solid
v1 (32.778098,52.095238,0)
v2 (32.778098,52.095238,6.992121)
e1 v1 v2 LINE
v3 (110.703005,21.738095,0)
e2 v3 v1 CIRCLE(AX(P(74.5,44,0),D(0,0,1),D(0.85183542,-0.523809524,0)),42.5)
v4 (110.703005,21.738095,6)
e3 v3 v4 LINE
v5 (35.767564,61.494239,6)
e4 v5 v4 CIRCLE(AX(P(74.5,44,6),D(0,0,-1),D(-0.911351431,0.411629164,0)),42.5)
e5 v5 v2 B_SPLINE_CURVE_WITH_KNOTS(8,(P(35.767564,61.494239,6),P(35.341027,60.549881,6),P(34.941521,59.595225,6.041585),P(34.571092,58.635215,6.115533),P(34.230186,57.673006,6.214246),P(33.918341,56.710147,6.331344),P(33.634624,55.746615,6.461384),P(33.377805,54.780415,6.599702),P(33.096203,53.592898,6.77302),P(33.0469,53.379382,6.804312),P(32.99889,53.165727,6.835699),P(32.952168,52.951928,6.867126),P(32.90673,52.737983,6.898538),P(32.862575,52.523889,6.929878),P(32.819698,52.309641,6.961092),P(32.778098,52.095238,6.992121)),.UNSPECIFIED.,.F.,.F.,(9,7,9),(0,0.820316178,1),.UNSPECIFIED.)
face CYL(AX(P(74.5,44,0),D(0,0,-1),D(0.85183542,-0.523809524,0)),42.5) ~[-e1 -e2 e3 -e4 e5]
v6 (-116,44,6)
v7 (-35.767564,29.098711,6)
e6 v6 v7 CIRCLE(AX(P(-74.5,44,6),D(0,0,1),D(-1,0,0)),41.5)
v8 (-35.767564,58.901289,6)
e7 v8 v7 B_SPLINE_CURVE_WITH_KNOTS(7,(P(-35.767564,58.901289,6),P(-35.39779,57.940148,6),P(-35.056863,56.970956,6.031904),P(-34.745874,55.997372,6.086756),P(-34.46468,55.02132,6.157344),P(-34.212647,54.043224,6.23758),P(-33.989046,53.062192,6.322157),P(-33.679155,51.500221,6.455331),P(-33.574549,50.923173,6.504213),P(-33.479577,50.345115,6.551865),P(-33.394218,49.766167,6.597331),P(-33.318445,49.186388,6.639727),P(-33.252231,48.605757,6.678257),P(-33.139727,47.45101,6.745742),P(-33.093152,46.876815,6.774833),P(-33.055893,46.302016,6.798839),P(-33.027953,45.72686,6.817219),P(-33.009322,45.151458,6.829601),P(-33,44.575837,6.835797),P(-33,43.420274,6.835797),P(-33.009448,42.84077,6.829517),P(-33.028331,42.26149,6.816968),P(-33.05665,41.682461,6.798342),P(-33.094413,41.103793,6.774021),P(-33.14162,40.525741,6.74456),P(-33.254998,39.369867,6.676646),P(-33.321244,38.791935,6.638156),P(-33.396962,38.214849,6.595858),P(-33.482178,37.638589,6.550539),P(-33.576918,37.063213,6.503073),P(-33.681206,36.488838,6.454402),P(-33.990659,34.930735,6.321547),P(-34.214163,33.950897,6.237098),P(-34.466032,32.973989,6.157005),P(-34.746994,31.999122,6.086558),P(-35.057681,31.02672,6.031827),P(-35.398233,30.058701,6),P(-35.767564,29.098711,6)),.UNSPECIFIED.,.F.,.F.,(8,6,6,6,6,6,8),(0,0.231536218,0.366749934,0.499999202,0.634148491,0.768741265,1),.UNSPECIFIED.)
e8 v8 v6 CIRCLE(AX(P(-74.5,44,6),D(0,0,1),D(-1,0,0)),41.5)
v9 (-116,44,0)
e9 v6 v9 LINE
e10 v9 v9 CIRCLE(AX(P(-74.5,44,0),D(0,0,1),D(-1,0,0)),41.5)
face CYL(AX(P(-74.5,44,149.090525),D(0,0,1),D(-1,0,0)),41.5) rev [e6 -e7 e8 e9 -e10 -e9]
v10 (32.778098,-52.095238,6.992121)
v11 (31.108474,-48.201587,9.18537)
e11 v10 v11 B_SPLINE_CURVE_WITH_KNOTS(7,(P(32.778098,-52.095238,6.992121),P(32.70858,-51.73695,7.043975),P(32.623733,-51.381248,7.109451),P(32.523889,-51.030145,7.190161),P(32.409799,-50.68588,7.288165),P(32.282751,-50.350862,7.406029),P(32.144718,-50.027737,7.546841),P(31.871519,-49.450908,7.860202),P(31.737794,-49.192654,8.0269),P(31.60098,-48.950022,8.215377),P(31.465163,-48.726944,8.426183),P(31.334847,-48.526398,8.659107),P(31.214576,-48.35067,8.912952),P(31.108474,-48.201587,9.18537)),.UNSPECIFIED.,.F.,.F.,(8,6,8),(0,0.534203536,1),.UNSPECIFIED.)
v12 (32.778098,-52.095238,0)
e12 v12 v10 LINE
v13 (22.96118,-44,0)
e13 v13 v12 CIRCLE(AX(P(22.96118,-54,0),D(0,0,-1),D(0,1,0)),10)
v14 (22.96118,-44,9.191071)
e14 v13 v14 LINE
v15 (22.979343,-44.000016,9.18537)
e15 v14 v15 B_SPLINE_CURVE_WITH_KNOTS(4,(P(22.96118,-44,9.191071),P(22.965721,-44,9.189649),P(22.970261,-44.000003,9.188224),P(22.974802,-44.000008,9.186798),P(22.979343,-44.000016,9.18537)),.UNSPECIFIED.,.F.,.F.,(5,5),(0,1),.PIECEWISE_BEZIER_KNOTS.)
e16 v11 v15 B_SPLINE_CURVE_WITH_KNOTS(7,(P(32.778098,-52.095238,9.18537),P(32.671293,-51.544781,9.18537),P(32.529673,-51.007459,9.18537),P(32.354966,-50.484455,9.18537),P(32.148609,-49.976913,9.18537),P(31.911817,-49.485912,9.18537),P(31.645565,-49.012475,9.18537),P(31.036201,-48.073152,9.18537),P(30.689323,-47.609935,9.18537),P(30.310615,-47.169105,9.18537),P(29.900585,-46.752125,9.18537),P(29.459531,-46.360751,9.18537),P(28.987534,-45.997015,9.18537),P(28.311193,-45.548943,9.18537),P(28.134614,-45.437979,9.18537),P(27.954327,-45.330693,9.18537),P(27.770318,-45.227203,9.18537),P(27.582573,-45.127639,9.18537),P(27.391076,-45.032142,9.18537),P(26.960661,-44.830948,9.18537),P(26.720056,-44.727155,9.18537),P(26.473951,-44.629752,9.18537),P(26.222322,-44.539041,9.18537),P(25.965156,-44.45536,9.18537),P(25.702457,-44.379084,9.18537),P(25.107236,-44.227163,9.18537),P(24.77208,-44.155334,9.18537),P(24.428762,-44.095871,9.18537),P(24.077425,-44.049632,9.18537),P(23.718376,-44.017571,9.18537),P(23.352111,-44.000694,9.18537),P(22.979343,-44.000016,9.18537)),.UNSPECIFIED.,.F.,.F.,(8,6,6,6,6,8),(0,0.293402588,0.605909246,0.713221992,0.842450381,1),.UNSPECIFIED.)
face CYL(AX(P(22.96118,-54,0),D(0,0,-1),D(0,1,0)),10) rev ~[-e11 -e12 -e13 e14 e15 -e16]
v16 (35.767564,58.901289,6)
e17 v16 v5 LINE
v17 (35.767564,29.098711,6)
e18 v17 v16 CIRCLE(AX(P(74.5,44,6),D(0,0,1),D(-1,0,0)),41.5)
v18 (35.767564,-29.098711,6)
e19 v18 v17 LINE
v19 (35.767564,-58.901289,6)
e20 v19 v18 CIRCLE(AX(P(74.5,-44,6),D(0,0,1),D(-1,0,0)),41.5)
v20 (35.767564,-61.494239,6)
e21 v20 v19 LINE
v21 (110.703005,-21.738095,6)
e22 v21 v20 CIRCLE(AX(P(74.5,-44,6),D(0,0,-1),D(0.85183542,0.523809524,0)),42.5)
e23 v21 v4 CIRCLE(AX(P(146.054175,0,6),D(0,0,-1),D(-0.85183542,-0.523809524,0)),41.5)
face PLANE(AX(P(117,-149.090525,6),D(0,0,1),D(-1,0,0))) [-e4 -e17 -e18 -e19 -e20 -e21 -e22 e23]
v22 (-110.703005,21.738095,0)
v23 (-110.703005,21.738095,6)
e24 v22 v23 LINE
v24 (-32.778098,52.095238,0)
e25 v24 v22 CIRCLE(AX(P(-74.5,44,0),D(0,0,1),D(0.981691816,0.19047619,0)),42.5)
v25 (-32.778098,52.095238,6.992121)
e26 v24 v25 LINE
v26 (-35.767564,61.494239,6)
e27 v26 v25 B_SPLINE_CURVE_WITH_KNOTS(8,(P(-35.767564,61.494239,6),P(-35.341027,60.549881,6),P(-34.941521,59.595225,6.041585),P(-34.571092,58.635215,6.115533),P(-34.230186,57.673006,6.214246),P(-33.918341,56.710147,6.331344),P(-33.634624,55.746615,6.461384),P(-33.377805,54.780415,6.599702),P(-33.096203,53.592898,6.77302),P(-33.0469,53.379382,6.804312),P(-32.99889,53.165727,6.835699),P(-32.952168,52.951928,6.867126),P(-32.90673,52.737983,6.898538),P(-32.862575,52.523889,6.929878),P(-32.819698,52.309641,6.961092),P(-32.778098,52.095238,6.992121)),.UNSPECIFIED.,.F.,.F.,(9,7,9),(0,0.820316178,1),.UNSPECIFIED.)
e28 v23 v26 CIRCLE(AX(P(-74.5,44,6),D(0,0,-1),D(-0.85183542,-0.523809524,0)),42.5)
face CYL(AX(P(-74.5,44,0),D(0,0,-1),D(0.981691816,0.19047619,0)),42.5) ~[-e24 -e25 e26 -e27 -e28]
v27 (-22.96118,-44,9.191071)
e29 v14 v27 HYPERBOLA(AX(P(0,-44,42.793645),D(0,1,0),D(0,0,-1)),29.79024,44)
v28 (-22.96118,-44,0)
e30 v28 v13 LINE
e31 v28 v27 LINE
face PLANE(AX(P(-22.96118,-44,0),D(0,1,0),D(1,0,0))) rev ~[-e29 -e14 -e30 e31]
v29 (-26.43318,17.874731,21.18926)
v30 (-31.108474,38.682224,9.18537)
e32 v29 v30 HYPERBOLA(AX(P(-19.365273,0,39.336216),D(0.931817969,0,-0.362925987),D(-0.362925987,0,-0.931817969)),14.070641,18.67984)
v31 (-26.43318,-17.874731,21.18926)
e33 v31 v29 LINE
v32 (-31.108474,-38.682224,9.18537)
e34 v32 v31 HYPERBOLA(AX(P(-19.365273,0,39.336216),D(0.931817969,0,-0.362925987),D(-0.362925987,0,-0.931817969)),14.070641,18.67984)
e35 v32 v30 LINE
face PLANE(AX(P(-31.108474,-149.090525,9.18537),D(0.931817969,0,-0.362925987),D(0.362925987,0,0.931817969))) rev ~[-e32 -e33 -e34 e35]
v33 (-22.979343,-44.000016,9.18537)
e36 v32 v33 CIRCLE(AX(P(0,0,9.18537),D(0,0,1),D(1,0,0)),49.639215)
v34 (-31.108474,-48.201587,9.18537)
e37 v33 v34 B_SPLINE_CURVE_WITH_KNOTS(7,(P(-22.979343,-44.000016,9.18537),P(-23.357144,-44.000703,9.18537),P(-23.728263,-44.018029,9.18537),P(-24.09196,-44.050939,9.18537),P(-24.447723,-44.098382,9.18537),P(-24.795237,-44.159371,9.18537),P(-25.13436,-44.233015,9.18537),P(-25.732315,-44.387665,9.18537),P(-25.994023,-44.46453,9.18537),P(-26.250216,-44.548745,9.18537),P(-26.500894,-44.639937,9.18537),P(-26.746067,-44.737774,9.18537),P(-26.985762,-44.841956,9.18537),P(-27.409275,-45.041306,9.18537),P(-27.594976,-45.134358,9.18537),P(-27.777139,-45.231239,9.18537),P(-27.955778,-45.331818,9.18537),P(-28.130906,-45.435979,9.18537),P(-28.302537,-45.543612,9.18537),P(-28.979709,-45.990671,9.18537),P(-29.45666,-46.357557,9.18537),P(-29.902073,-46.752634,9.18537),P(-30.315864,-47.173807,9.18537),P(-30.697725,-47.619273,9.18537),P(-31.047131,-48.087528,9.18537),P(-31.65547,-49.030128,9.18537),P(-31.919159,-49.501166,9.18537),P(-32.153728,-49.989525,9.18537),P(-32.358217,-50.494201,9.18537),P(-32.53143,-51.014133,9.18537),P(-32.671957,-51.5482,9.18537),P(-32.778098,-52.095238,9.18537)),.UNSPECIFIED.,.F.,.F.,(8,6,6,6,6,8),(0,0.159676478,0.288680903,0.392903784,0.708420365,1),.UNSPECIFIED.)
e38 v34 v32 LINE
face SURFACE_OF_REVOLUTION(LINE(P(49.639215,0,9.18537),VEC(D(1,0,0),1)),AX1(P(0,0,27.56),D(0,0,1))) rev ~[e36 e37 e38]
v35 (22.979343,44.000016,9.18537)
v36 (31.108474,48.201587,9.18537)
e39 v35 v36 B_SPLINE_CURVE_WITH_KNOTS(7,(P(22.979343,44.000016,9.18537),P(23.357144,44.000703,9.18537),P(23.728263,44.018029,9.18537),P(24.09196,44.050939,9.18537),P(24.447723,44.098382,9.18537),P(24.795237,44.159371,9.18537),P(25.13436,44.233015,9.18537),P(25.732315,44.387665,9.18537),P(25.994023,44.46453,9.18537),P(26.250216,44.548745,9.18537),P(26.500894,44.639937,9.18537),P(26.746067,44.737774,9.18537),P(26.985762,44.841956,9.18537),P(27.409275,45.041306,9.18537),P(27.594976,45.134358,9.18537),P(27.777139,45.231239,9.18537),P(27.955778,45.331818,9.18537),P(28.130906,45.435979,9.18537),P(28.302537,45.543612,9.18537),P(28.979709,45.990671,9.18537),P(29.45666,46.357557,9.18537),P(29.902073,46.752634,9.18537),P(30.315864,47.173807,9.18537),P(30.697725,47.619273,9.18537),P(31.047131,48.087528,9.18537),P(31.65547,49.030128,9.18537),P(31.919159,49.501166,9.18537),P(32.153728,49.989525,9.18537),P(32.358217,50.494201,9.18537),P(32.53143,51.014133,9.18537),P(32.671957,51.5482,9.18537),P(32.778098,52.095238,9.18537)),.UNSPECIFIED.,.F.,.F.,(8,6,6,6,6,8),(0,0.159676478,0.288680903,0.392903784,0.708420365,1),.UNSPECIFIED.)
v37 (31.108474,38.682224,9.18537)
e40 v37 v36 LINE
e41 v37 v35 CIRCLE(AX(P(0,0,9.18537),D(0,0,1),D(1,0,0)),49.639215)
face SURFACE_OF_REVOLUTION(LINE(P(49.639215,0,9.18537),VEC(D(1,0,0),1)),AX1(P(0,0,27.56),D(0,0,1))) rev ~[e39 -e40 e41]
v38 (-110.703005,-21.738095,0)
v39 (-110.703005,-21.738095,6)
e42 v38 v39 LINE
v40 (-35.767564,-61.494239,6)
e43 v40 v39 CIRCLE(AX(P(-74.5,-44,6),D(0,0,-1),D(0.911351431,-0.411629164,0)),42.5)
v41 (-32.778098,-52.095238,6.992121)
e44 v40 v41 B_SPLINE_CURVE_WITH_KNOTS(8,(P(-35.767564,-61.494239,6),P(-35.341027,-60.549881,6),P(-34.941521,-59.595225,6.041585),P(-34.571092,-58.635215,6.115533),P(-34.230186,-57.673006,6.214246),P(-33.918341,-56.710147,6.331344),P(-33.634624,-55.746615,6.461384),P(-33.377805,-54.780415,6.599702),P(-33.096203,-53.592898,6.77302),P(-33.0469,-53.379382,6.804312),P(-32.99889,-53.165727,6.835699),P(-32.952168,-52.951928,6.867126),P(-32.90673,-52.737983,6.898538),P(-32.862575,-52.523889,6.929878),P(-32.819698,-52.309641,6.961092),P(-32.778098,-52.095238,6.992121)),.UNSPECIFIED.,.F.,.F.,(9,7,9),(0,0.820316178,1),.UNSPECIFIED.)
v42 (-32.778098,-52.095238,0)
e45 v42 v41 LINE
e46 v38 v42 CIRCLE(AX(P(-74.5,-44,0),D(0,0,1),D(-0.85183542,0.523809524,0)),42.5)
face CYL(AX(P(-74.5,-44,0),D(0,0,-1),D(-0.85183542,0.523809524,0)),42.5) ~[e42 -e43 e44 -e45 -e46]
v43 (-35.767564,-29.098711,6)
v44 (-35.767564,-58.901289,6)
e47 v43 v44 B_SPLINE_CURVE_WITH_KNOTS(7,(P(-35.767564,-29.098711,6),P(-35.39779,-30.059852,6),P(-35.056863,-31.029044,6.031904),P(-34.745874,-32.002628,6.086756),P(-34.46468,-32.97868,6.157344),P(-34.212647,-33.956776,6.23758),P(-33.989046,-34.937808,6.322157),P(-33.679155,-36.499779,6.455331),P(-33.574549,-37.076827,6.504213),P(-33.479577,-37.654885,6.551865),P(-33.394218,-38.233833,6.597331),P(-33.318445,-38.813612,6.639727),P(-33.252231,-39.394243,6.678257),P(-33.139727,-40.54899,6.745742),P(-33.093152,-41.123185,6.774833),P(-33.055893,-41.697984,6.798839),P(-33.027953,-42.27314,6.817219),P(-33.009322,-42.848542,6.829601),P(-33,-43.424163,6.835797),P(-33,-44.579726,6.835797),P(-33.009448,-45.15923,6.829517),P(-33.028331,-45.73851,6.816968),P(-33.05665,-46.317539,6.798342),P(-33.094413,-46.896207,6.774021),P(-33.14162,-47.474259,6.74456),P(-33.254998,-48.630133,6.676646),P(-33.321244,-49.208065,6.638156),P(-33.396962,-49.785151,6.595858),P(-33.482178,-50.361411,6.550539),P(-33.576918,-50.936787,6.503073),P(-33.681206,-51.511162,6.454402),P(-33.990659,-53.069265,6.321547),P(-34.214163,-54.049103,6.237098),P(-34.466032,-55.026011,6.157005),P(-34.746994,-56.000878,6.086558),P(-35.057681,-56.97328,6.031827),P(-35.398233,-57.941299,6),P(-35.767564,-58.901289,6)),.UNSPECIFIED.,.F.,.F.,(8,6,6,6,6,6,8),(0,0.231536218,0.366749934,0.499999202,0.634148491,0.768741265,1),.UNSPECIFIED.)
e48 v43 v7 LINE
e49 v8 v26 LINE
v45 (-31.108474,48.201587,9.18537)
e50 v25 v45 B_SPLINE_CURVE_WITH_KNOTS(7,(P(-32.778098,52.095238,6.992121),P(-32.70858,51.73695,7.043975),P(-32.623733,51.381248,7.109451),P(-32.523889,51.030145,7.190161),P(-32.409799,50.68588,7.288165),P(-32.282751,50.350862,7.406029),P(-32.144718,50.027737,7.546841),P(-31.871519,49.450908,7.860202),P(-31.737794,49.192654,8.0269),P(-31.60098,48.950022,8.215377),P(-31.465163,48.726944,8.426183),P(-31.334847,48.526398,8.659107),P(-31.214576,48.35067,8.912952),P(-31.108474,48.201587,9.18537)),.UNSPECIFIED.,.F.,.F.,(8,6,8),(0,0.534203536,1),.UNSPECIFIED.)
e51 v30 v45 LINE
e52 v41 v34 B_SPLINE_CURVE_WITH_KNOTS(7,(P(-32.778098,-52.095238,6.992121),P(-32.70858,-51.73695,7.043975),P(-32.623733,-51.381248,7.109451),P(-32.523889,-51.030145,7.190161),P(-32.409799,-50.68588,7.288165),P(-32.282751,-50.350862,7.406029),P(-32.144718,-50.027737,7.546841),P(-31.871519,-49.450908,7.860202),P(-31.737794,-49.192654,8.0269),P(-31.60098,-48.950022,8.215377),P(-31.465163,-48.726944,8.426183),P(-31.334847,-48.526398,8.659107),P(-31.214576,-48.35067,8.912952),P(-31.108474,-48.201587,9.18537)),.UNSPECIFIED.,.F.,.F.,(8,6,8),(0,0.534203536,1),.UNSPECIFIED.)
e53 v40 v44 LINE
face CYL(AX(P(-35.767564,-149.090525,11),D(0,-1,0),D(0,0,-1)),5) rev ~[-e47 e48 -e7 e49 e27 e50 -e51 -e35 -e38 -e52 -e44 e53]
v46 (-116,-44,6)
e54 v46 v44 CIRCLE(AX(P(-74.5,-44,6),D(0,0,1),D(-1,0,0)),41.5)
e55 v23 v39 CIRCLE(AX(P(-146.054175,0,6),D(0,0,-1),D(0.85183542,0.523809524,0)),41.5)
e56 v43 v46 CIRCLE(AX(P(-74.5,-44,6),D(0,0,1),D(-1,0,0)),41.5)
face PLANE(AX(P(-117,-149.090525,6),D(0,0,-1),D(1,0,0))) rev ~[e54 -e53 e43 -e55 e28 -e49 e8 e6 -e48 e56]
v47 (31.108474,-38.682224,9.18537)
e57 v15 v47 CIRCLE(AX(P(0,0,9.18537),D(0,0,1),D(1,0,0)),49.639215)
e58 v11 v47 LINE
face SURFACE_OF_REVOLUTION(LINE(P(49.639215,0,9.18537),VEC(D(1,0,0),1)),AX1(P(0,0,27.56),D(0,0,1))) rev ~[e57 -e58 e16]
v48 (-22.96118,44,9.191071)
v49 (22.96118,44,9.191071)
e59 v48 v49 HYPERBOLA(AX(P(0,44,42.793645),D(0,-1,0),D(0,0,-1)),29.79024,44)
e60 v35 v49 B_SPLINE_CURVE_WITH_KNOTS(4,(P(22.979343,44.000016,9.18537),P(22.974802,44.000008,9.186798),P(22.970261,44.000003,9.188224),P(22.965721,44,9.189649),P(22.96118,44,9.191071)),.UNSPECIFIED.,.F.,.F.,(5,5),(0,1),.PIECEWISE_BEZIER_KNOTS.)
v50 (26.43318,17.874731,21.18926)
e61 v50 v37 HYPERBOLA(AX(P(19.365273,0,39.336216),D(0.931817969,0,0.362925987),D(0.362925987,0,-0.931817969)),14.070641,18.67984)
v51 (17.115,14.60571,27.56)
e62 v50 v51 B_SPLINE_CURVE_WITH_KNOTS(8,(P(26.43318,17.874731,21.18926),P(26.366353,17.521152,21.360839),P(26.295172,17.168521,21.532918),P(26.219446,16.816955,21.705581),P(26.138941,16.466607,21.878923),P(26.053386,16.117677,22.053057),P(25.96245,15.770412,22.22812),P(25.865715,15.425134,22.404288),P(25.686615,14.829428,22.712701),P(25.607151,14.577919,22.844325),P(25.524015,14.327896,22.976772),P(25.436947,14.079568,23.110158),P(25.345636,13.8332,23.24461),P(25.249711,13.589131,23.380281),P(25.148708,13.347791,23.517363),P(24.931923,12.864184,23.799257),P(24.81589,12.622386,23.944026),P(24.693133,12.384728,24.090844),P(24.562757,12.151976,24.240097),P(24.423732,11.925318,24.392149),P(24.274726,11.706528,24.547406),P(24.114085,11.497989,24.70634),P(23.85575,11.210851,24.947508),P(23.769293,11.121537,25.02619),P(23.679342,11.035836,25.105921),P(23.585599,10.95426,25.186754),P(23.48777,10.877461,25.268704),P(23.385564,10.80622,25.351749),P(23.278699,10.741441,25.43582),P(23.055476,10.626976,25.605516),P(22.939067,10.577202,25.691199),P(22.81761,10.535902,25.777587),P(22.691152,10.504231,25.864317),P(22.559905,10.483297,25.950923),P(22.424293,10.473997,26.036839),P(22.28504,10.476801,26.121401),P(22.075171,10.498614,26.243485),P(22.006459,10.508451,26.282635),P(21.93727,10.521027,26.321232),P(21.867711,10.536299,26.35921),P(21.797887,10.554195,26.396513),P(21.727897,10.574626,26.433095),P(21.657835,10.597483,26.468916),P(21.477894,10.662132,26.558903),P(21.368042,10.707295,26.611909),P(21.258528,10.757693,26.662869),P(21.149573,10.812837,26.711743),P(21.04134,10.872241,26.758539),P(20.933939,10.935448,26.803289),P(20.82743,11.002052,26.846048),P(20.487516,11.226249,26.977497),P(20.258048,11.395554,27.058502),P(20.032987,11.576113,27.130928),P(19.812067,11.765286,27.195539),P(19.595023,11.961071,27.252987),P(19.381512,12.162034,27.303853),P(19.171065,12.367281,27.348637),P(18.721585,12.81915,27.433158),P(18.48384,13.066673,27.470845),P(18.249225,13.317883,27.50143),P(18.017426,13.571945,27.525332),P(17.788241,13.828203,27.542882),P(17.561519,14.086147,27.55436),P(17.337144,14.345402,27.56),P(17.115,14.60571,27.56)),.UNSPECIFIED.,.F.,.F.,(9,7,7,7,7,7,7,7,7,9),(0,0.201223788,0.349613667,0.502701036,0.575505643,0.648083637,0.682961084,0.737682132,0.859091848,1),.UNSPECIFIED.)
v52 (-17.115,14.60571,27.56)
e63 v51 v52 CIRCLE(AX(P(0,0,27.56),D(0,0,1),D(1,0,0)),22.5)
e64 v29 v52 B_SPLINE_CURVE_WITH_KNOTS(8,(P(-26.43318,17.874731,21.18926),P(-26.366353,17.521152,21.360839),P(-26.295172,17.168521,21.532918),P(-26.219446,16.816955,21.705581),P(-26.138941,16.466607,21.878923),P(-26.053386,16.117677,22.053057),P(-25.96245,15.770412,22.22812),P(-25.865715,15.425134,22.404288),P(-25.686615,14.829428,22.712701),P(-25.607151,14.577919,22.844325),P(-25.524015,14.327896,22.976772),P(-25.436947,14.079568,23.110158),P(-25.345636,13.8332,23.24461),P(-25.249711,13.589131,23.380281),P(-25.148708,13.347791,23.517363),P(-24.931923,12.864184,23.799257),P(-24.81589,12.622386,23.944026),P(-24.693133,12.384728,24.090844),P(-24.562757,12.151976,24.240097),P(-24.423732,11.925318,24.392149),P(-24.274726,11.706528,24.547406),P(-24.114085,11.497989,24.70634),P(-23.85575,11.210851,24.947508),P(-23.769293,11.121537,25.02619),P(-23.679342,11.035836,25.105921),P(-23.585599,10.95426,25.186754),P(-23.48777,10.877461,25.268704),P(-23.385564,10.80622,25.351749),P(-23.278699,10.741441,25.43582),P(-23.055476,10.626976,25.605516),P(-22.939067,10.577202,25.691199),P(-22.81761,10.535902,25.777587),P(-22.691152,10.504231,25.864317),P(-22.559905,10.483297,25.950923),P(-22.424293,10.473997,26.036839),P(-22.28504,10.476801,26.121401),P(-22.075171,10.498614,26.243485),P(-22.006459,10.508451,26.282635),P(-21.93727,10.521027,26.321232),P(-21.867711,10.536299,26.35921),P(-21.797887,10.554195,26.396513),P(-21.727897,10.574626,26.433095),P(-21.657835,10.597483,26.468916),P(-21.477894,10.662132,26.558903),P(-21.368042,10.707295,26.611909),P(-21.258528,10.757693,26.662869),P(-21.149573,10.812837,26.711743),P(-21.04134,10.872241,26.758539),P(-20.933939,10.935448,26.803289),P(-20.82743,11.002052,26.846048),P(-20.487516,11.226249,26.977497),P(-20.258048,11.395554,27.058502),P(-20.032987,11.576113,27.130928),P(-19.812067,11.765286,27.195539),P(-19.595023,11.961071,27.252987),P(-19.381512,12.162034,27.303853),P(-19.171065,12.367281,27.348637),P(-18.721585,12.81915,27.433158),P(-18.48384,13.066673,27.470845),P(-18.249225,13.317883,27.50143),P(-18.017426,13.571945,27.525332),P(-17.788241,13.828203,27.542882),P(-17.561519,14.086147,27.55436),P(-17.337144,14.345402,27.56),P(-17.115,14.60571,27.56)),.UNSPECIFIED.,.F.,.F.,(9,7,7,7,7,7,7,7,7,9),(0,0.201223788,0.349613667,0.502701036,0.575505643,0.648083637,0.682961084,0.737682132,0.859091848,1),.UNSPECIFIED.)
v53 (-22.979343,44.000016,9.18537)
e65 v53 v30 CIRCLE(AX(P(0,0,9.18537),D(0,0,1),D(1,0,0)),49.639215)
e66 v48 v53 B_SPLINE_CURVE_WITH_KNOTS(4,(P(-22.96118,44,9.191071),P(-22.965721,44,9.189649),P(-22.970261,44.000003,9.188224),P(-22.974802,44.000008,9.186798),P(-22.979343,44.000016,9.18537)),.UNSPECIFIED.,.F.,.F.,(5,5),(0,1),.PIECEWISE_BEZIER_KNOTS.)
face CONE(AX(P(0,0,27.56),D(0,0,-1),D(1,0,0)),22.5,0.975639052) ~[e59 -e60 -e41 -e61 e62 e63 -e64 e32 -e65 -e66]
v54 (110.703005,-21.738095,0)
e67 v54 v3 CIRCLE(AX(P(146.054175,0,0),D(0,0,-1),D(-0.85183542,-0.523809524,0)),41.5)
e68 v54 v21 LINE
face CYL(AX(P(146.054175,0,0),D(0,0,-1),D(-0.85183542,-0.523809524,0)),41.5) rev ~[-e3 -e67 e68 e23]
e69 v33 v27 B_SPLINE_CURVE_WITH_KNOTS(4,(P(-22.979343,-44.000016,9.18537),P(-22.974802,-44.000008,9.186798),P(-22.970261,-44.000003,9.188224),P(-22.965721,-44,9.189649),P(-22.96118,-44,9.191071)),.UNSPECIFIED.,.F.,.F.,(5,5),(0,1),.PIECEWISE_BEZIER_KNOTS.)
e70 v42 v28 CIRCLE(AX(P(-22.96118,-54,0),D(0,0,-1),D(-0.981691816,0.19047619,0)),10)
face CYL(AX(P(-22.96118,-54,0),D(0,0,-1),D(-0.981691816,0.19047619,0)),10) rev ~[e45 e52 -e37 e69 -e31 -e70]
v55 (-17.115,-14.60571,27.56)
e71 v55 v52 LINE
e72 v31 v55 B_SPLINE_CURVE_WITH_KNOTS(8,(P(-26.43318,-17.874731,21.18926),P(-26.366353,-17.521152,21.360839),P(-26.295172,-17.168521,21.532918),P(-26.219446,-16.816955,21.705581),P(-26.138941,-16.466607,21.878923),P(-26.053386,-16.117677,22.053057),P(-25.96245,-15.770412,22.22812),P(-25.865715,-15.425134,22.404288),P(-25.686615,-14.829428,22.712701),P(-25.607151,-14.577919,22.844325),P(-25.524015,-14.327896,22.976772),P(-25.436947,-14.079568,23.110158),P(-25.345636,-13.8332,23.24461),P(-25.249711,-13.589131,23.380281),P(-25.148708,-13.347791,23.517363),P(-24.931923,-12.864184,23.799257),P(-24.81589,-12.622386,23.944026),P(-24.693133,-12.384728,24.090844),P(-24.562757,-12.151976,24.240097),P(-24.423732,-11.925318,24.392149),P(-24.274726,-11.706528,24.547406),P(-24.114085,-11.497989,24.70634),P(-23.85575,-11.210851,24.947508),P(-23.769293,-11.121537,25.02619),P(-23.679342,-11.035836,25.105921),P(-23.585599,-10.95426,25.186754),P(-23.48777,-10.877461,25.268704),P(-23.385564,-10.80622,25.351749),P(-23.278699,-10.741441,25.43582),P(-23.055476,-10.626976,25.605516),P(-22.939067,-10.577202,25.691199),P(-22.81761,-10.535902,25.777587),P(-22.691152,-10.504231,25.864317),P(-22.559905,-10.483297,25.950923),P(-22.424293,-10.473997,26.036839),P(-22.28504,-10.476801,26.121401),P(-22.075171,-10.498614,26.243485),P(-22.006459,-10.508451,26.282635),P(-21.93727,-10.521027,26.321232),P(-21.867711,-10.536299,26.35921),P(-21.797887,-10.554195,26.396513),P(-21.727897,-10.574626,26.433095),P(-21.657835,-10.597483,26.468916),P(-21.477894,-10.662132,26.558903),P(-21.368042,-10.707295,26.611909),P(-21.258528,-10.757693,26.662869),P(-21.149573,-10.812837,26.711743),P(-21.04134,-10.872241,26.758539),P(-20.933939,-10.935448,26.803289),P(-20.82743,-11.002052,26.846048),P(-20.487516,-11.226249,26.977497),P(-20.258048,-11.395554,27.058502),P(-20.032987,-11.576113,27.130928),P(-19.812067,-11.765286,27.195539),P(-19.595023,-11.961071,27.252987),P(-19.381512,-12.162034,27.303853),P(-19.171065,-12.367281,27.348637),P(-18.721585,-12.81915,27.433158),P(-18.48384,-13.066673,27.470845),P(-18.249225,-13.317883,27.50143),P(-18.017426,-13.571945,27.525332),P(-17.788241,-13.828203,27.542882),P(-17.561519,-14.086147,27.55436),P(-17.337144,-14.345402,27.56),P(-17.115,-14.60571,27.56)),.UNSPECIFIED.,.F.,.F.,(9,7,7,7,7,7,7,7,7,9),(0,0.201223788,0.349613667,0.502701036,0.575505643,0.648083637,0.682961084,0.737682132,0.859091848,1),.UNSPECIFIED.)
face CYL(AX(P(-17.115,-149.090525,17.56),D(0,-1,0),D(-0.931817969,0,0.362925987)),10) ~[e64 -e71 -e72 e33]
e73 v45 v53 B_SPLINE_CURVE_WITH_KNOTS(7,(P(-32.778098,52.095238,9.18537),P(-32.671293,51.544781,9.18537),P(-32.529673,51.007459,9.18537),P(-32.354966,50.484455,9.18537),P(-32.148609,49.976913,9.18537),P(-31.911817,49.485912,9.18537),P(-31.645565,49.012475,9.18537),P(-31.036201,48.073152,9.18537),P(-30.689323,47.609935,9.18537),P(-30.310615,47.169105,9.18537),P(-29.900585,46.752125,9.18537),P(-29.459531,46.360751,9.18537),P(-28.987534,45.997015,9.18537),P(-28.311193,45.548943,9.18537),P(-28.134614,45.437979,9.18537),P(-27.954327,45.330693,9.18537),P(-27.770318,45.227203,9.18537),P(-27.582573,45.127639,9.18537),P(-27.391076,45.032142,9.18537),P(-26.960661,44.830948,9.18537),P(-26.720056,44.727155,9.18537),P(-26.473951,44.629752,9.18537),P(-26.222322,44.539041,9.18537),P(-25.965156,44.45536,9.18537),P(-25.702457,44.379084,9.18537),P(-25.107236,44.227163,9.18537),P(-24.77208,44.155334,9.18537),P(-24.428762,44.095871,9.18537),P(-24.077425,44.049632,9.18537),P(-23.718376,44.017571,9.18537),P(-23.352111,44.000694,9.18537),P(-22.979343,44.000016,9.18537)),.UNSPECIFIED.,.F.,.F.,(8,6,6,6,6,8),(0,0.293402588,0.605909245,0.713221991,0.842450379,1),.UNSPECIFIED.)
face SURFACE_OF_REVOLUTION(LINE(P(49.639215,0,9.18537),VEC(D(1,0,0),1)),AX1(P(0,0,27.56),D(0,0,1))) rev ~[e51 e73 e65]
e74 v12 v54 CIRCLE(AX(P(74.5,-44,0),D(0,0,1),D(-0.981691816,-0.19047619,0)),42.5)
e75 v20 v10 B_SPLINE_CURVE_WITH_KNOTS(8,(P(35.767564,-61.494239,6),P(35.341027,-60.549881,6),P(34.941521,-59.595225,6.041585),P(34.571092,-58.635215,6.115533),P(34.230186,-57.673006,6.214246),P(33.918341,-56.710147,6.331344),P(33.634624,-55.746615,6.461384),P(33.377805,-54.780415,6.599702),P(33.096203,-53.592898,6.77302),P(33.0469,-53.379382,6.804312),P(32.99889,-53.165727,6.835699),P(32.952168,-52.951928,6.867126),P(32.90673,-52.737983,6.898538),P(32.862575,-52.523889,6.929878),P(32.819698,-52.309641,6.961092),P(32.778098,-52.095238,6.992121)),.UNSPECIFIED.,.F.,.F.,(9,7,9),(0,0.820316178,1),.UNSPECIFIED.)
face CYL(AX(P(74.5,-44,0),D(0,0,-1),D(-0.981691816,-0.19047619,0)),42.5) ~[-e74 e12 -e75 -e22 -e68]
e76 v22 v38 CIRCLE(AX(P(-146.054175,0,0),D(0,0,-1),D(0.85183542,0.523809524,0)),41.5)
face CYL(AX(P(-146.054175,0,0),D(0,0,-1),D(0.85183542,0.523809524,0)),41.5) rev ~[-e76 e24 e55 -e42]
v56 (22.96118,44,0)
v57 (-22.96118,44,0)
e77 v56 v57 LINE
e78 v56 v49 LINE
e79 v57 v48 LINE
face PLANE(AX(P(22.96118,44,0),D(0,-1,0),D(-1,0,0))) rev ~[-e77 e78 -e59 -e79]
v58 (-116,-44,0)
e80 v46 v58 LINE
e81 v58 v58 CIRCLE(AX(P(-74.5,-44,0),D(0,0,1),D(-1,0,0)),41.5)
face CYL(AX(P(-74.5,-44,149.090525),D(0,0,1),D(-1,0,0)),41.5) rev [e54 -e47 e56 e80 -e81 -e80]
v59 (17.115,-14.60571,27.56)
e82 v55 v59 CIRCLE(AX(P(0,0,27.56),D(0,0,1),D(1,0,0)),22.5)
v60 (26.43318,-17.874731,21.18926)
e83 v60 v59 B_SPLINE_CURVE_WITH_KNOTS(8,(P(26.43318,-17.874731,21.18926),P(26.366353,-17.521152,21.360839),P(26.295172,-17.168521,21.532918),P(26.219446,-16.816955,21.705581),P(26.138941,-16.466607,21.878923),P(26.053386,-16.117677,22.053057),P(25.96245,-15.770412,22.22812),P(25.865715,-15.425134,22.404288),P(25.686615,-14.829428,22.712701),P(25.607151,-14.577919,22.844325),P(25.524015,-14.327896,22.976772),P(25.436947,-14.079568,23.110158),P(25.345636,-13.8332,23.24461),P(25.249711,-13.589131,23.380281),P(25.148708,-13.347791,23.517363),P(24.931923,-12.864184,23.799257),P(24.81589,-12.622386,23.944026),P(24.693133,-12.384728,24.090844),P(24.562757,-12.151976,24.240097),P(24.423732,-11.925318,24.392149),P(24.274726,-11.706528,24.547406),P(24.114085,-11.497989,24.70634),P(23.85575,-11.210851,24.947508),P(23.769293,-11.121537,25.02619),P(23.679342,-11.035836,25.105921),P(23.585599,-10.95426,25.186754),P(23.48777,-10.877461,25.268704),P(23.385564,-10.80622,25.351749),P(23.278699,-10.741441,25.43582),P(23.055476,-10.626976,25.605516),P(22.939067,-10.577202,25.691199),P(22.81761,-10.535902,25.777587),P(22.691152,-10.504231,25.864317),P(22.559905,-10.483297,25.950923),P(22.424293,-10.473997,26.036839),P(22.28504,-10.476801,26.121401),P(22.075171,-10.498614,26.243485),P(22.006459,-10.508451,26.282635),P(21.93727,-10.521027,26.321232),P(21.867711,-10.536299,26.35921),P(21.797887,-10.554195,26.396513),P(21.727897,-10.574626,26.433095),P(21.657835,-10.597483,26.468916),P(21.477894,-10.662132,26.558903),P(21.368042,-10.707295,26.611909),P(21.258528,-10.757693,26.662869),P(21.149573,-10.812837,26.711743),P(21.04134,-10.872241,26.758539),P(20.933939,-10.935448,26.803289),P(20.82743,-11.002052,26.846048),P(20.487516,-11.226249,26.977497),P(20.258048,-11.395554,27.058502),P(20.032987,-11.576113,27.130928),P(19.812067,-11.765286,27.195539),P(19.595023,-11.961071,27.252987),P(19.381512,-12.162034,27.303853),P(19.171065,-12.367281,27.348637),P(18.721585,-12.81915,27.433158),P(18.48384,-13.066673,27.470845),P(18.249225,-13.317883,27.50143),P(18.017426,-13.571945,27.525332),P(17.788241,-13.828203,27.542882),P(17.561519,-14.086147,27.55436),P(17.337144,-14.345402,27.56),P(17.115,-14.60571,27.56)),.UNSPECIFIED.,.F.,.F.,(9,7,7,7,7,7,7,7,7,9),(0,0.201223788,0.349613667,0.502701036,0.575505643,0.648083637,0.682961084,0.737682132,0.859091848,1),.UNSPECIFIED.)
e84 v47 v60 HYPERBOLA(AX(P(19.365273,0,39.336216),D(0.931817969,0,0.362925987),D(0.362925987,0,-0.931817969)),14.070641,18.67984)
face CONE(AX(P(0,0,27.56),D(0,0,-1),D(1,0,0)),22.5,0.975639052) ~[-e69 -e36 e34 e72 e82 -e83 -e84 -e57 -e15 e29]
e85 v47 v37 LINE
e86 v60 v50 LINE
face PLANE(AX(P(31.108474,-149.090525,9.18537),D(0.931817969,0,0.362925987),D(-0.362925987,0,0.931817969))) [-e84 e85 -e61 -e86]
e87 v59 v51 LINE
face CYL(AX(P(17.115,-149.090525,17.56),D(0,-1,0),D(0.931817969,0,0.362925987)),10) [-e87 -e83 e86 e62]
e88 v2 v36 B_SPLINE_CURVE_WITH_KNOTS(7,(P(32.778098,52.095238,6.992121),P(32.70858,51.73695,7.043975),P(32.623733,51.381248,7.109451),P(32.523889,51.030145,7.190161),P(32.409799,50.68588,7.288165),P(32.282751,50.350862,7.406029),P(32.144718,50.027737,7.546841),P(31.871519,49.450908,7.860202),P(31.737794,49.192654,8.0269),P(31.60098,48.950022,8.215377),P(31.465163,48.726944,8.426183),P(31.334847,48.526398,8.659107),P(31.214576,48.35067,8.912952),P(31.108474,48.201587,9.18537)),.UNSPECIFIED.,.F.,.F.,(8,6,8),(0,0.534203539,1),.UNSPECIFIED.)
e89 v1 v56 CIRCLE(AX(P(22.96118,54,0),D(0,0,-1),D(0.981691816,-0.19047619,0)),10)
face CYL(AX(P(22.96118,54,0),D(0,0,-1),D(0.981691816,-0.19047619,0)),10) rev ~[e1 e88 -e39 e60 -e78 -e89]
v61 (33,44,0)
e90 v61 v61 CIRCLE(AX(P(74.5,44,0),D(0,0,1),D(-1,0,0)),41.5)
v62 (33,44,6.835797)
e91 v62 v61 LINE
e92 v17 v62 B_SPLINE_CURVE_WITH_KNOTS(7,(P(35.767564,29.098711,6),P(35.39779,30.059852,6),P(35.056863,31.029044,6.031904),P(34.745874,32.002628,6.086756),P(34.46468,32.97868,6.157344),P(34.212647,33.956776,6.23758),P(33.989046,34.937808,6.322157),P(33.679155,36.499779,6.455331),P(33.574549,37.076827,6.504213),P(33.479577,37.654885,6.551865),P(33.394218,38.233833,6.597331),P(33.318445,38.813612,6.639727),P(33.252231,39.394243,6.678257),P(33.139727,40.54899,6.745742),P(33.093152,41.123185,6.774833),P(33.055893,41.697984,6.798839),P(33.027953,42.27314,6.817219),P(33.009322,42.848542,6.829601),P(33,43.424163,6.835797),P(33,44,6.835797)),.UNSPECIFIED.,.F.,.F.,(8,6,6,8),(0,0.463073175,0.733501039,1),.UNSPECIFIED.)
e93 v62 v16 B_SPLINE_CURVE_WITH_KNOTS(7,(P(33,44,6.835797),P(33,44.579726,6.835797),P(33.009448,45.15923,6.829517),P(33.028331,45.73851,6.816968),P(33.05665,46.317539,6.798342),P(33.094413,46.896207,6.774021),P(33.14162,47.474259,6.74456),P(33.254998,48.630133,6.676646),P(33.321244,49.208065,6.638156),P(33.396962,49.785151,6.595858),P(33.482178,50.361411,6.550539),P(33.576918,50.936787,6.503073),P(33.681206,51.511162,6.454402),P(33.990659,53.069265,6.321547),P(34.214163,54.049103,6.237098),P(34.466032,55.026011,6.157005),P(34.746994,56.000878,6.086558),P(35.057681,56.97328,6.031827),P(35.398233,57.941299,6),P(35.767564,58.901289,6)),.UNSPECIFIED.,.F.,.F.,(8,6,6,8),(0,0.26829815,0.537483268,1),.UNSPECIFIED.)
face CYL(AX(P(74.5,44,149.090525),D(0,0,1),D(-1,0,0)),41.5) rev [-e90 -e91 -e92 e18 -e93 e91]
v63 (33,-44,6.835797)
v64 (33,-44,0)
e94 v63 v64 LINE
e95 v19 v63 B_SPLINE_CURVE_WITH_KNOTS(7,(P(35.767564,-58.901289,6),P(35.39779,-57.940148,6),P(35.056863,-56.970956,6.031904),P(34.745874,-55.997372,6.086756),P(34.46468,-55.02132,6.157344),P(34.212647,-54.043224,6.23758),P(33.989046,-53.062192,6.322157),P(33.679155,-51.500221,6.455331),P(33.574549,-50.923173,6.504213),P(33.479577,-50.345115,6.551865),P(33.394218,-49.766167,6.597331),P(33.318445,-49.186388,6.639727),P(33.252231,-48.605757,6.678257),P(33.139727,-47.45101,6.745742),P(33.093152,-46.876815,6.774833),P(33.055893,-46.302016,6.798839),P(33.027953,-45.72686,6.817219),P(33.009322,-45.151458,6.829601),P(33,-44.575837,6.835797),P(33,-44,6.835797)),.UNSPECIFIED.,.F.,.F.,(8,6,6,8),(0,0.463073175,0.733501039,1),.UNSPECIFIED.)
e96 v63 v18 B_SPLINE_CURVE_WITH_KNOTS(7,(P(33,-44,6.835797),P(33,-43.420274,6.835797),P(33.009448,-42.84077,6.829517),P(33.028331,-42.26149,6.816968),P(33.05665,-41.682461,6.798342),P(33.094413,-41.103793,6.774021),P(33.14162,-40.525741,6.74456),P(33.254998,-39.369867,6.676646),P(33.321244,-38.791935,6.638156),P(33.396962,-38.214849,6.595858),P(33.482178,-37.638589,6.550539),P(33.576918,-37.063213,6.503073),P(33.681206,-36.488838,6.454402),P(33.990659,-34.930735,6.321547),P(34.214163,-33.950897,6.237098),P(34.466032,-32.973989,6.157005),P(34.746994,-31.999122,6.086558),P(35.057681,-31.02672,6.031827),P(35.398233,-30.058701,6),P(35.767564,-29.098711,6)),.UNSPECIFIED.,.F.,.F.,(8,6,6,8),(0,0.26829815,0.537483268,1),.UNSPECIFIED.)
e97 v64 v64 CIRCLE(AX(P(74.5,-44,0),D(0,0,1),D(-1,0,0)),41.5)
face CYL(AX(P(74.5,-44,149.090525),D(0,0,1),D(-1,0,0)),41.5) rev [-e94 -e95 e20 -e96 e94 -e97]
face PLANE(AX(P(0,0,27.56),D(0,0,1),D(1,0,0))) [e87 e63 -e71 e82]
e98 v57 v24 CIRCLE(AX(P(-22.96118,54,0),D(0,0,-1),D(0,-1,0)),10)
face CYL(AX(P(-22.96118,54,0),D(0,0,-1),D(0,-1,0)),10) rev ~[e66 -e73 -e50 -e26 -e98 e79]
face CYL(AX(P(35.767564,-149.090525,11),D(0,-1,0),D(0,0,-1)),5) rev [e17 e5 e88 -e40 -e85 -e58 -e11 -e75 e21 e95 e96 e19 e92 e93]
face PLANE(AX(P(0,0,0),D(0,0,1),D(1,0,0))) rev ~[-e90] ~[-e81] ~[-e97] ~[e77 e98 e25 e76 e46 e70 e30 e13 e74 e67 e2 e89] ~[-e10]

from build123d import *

# Parameters (mm, degrees)
BOSS_EXTRUDE1_DEPTH     = 27.56
CUT_EXTRUDE1_DEPTH      = 149.090525018
CUT_EXTRUDE1_DEPTH_BACK = 149.090525018
CUT_EXTRUDE2_DEPTH      = 149.090525174
CUT_EXTRUDE2_DEPTH_BACK = 149.090525174
SKETCH3_R               = 41.5


with BuildPart() as part:
    # Sketch1 → Boss-Extrude1 (new body)
    with BuildSketch(Plane.XY):
        with BuildLine():
            Line((22.96117968, 44), (-22.96117968, 44))
            ThreePointArc((-22.96117968, 44), (-29.323269783, 46.284832502), (-32.778097836, 52.095238095))
            ThreePointArc((-32.778097836, 52.095238095), (-89.927364847, 83.601091069), (-110.70300535, 21.738095238))
            ThreePointArc((-110.70300535, 21.738095238), (-104.55417528, 0), (-110.70300535, -21.738095238))
            ThreePointArc((-110.70300535, -21.738095238), (-89.927364847, -83.601091069), (-32.778097836, -52.095238095))
            ThreePointArc((-32.778097836, -52.095238095), (-29.323269783, -46.284832502), (-22.96117968, -44))
            Line((-22.96117968, -44), (22.96117968, -44))
            ThreePointArc((22.96117968, -44), (29.323269783, -46.284832502), (32.778097836, -52.095238095))
            ThreePointArc((32.778097836, -52.095238095), (89.927364847, -83.601091069), (110.70300535, -21.738095238))
            ThreePointArc((110.70300535, -21.738095238), (104.55417528, 0), (110.70300535, 21.738095238))
            ThreePointArc((110.70300535, 21.738095238), (89.927364847, 83.601091069), (32.778097836, 52.095238095))
            ThreePointArc((32.778097836, 52.095238095), (29.323269783, 46.284832502), (22.96117968, 44))
        make_face()
    extrude(amount=BOSS_EXTRUDE1_DEPTH)

    # Sketch2 → Cut-Extrude1 (cut, two sides: drawn at the far end of the back side and taken through both)
    with BuildSketch(Plane(origin=(0, 0, 0), x_dir=(1, 0, 0), z_dir=(0, 1, 0)).offset(-CUT_EXTRUDE1_DEPTH_BACK)):
        with BuildLine():
            Line((117, -6), (35.767564174, -6))
            ThreePointArc((35.767564174, -6), (32.945610035, -6.872461407), (31.108474327, -9.185370066))
            Line((31.108474327, -9.185370066), (26.433179694, -21.189259868))
            ThreePointArc((26.433179694, -21.189259868), (22.758908279, -25.815077185), (17.115, -27.56))
            Line((17.115, -27.56), (117, -27.56))
            Line((117, -27.56), (117, -6))
        make_face()
        with BuildLine():
            Line((-117, -27.56), (-117, -6))
            Line((-117, -6), (-35.767564174, -6))
            ThreePointArc((-35.767564174, -6), (-32.945610035, -6.872461407), (-31.108474327, -9.185370066))
            Line((-31.108474327, -9.185370066), (-26.433179694, -21.189259868))
            ThreePointArc((-26.433179694, -21.189259868), (-22.758908279, -25.815077185), (-17.115, -27.56))
            Line((-17.115, -27.56), (-117, -27.56))
        make_face()
    extrude(amount=CUT_EXTRUDE1_DEPTH + CUT_EXTRUDE1_DEPTH_BACK, mode=Mode.SUBTRACT)

    # Sketch3 → Cut-Extrude2 (cut, two sides: drawn at the far end of the back side and taken through both)
    with BuildSketch(Plane(origin=(0, 0, 0), x_dir=(-1, 0, 0), z_dir=(0, 0, -1)).offset(-CUT_EXTRUDE2_DEPTH_BACK)):
        with Locations((-74.5, 44)):
            Circle(SKETCH3_R)
        with Locations((-74.5, -44)):
            Circle(SKETCH3_R)
        with Locations((74.5, 44)):
            Circle(SKETCH3_R)
        with Locations((74.5, -44)):
            Circle(SKETCH3_R)
    extrude(amount=CUT_EXTRUDE2_DEPTH + CUT_EXTRUDE2_DEPTH_BACK, mode=Mode.SUBTRACT)

    # Cut-Sweep1: sweep along a path in Sketch4
    with BuildLine(Plane.XY.offset(27.56)) as cut_sweep1_path:
        CenterArc((0, 0), 22.5, 0, 360)
    # Sketch5 → Cut-Sweep1 (sweep, cut)
    with BuildSketch(Plane(origin=(0, 0, 0), x_dir=(0, 0, -1), z_dir=(1, 0, 0))):
        Polygon((-27.56, 22.5), (-9.185370066, 49.639215001), (-9.185370066, 86.5), (-27.56, 86.5), (-27.56, 48.201587292), align=None)
    sweep(path=cut_sweep1_path.line, mode=Mode.SUBTRACT)


solid = part.part
